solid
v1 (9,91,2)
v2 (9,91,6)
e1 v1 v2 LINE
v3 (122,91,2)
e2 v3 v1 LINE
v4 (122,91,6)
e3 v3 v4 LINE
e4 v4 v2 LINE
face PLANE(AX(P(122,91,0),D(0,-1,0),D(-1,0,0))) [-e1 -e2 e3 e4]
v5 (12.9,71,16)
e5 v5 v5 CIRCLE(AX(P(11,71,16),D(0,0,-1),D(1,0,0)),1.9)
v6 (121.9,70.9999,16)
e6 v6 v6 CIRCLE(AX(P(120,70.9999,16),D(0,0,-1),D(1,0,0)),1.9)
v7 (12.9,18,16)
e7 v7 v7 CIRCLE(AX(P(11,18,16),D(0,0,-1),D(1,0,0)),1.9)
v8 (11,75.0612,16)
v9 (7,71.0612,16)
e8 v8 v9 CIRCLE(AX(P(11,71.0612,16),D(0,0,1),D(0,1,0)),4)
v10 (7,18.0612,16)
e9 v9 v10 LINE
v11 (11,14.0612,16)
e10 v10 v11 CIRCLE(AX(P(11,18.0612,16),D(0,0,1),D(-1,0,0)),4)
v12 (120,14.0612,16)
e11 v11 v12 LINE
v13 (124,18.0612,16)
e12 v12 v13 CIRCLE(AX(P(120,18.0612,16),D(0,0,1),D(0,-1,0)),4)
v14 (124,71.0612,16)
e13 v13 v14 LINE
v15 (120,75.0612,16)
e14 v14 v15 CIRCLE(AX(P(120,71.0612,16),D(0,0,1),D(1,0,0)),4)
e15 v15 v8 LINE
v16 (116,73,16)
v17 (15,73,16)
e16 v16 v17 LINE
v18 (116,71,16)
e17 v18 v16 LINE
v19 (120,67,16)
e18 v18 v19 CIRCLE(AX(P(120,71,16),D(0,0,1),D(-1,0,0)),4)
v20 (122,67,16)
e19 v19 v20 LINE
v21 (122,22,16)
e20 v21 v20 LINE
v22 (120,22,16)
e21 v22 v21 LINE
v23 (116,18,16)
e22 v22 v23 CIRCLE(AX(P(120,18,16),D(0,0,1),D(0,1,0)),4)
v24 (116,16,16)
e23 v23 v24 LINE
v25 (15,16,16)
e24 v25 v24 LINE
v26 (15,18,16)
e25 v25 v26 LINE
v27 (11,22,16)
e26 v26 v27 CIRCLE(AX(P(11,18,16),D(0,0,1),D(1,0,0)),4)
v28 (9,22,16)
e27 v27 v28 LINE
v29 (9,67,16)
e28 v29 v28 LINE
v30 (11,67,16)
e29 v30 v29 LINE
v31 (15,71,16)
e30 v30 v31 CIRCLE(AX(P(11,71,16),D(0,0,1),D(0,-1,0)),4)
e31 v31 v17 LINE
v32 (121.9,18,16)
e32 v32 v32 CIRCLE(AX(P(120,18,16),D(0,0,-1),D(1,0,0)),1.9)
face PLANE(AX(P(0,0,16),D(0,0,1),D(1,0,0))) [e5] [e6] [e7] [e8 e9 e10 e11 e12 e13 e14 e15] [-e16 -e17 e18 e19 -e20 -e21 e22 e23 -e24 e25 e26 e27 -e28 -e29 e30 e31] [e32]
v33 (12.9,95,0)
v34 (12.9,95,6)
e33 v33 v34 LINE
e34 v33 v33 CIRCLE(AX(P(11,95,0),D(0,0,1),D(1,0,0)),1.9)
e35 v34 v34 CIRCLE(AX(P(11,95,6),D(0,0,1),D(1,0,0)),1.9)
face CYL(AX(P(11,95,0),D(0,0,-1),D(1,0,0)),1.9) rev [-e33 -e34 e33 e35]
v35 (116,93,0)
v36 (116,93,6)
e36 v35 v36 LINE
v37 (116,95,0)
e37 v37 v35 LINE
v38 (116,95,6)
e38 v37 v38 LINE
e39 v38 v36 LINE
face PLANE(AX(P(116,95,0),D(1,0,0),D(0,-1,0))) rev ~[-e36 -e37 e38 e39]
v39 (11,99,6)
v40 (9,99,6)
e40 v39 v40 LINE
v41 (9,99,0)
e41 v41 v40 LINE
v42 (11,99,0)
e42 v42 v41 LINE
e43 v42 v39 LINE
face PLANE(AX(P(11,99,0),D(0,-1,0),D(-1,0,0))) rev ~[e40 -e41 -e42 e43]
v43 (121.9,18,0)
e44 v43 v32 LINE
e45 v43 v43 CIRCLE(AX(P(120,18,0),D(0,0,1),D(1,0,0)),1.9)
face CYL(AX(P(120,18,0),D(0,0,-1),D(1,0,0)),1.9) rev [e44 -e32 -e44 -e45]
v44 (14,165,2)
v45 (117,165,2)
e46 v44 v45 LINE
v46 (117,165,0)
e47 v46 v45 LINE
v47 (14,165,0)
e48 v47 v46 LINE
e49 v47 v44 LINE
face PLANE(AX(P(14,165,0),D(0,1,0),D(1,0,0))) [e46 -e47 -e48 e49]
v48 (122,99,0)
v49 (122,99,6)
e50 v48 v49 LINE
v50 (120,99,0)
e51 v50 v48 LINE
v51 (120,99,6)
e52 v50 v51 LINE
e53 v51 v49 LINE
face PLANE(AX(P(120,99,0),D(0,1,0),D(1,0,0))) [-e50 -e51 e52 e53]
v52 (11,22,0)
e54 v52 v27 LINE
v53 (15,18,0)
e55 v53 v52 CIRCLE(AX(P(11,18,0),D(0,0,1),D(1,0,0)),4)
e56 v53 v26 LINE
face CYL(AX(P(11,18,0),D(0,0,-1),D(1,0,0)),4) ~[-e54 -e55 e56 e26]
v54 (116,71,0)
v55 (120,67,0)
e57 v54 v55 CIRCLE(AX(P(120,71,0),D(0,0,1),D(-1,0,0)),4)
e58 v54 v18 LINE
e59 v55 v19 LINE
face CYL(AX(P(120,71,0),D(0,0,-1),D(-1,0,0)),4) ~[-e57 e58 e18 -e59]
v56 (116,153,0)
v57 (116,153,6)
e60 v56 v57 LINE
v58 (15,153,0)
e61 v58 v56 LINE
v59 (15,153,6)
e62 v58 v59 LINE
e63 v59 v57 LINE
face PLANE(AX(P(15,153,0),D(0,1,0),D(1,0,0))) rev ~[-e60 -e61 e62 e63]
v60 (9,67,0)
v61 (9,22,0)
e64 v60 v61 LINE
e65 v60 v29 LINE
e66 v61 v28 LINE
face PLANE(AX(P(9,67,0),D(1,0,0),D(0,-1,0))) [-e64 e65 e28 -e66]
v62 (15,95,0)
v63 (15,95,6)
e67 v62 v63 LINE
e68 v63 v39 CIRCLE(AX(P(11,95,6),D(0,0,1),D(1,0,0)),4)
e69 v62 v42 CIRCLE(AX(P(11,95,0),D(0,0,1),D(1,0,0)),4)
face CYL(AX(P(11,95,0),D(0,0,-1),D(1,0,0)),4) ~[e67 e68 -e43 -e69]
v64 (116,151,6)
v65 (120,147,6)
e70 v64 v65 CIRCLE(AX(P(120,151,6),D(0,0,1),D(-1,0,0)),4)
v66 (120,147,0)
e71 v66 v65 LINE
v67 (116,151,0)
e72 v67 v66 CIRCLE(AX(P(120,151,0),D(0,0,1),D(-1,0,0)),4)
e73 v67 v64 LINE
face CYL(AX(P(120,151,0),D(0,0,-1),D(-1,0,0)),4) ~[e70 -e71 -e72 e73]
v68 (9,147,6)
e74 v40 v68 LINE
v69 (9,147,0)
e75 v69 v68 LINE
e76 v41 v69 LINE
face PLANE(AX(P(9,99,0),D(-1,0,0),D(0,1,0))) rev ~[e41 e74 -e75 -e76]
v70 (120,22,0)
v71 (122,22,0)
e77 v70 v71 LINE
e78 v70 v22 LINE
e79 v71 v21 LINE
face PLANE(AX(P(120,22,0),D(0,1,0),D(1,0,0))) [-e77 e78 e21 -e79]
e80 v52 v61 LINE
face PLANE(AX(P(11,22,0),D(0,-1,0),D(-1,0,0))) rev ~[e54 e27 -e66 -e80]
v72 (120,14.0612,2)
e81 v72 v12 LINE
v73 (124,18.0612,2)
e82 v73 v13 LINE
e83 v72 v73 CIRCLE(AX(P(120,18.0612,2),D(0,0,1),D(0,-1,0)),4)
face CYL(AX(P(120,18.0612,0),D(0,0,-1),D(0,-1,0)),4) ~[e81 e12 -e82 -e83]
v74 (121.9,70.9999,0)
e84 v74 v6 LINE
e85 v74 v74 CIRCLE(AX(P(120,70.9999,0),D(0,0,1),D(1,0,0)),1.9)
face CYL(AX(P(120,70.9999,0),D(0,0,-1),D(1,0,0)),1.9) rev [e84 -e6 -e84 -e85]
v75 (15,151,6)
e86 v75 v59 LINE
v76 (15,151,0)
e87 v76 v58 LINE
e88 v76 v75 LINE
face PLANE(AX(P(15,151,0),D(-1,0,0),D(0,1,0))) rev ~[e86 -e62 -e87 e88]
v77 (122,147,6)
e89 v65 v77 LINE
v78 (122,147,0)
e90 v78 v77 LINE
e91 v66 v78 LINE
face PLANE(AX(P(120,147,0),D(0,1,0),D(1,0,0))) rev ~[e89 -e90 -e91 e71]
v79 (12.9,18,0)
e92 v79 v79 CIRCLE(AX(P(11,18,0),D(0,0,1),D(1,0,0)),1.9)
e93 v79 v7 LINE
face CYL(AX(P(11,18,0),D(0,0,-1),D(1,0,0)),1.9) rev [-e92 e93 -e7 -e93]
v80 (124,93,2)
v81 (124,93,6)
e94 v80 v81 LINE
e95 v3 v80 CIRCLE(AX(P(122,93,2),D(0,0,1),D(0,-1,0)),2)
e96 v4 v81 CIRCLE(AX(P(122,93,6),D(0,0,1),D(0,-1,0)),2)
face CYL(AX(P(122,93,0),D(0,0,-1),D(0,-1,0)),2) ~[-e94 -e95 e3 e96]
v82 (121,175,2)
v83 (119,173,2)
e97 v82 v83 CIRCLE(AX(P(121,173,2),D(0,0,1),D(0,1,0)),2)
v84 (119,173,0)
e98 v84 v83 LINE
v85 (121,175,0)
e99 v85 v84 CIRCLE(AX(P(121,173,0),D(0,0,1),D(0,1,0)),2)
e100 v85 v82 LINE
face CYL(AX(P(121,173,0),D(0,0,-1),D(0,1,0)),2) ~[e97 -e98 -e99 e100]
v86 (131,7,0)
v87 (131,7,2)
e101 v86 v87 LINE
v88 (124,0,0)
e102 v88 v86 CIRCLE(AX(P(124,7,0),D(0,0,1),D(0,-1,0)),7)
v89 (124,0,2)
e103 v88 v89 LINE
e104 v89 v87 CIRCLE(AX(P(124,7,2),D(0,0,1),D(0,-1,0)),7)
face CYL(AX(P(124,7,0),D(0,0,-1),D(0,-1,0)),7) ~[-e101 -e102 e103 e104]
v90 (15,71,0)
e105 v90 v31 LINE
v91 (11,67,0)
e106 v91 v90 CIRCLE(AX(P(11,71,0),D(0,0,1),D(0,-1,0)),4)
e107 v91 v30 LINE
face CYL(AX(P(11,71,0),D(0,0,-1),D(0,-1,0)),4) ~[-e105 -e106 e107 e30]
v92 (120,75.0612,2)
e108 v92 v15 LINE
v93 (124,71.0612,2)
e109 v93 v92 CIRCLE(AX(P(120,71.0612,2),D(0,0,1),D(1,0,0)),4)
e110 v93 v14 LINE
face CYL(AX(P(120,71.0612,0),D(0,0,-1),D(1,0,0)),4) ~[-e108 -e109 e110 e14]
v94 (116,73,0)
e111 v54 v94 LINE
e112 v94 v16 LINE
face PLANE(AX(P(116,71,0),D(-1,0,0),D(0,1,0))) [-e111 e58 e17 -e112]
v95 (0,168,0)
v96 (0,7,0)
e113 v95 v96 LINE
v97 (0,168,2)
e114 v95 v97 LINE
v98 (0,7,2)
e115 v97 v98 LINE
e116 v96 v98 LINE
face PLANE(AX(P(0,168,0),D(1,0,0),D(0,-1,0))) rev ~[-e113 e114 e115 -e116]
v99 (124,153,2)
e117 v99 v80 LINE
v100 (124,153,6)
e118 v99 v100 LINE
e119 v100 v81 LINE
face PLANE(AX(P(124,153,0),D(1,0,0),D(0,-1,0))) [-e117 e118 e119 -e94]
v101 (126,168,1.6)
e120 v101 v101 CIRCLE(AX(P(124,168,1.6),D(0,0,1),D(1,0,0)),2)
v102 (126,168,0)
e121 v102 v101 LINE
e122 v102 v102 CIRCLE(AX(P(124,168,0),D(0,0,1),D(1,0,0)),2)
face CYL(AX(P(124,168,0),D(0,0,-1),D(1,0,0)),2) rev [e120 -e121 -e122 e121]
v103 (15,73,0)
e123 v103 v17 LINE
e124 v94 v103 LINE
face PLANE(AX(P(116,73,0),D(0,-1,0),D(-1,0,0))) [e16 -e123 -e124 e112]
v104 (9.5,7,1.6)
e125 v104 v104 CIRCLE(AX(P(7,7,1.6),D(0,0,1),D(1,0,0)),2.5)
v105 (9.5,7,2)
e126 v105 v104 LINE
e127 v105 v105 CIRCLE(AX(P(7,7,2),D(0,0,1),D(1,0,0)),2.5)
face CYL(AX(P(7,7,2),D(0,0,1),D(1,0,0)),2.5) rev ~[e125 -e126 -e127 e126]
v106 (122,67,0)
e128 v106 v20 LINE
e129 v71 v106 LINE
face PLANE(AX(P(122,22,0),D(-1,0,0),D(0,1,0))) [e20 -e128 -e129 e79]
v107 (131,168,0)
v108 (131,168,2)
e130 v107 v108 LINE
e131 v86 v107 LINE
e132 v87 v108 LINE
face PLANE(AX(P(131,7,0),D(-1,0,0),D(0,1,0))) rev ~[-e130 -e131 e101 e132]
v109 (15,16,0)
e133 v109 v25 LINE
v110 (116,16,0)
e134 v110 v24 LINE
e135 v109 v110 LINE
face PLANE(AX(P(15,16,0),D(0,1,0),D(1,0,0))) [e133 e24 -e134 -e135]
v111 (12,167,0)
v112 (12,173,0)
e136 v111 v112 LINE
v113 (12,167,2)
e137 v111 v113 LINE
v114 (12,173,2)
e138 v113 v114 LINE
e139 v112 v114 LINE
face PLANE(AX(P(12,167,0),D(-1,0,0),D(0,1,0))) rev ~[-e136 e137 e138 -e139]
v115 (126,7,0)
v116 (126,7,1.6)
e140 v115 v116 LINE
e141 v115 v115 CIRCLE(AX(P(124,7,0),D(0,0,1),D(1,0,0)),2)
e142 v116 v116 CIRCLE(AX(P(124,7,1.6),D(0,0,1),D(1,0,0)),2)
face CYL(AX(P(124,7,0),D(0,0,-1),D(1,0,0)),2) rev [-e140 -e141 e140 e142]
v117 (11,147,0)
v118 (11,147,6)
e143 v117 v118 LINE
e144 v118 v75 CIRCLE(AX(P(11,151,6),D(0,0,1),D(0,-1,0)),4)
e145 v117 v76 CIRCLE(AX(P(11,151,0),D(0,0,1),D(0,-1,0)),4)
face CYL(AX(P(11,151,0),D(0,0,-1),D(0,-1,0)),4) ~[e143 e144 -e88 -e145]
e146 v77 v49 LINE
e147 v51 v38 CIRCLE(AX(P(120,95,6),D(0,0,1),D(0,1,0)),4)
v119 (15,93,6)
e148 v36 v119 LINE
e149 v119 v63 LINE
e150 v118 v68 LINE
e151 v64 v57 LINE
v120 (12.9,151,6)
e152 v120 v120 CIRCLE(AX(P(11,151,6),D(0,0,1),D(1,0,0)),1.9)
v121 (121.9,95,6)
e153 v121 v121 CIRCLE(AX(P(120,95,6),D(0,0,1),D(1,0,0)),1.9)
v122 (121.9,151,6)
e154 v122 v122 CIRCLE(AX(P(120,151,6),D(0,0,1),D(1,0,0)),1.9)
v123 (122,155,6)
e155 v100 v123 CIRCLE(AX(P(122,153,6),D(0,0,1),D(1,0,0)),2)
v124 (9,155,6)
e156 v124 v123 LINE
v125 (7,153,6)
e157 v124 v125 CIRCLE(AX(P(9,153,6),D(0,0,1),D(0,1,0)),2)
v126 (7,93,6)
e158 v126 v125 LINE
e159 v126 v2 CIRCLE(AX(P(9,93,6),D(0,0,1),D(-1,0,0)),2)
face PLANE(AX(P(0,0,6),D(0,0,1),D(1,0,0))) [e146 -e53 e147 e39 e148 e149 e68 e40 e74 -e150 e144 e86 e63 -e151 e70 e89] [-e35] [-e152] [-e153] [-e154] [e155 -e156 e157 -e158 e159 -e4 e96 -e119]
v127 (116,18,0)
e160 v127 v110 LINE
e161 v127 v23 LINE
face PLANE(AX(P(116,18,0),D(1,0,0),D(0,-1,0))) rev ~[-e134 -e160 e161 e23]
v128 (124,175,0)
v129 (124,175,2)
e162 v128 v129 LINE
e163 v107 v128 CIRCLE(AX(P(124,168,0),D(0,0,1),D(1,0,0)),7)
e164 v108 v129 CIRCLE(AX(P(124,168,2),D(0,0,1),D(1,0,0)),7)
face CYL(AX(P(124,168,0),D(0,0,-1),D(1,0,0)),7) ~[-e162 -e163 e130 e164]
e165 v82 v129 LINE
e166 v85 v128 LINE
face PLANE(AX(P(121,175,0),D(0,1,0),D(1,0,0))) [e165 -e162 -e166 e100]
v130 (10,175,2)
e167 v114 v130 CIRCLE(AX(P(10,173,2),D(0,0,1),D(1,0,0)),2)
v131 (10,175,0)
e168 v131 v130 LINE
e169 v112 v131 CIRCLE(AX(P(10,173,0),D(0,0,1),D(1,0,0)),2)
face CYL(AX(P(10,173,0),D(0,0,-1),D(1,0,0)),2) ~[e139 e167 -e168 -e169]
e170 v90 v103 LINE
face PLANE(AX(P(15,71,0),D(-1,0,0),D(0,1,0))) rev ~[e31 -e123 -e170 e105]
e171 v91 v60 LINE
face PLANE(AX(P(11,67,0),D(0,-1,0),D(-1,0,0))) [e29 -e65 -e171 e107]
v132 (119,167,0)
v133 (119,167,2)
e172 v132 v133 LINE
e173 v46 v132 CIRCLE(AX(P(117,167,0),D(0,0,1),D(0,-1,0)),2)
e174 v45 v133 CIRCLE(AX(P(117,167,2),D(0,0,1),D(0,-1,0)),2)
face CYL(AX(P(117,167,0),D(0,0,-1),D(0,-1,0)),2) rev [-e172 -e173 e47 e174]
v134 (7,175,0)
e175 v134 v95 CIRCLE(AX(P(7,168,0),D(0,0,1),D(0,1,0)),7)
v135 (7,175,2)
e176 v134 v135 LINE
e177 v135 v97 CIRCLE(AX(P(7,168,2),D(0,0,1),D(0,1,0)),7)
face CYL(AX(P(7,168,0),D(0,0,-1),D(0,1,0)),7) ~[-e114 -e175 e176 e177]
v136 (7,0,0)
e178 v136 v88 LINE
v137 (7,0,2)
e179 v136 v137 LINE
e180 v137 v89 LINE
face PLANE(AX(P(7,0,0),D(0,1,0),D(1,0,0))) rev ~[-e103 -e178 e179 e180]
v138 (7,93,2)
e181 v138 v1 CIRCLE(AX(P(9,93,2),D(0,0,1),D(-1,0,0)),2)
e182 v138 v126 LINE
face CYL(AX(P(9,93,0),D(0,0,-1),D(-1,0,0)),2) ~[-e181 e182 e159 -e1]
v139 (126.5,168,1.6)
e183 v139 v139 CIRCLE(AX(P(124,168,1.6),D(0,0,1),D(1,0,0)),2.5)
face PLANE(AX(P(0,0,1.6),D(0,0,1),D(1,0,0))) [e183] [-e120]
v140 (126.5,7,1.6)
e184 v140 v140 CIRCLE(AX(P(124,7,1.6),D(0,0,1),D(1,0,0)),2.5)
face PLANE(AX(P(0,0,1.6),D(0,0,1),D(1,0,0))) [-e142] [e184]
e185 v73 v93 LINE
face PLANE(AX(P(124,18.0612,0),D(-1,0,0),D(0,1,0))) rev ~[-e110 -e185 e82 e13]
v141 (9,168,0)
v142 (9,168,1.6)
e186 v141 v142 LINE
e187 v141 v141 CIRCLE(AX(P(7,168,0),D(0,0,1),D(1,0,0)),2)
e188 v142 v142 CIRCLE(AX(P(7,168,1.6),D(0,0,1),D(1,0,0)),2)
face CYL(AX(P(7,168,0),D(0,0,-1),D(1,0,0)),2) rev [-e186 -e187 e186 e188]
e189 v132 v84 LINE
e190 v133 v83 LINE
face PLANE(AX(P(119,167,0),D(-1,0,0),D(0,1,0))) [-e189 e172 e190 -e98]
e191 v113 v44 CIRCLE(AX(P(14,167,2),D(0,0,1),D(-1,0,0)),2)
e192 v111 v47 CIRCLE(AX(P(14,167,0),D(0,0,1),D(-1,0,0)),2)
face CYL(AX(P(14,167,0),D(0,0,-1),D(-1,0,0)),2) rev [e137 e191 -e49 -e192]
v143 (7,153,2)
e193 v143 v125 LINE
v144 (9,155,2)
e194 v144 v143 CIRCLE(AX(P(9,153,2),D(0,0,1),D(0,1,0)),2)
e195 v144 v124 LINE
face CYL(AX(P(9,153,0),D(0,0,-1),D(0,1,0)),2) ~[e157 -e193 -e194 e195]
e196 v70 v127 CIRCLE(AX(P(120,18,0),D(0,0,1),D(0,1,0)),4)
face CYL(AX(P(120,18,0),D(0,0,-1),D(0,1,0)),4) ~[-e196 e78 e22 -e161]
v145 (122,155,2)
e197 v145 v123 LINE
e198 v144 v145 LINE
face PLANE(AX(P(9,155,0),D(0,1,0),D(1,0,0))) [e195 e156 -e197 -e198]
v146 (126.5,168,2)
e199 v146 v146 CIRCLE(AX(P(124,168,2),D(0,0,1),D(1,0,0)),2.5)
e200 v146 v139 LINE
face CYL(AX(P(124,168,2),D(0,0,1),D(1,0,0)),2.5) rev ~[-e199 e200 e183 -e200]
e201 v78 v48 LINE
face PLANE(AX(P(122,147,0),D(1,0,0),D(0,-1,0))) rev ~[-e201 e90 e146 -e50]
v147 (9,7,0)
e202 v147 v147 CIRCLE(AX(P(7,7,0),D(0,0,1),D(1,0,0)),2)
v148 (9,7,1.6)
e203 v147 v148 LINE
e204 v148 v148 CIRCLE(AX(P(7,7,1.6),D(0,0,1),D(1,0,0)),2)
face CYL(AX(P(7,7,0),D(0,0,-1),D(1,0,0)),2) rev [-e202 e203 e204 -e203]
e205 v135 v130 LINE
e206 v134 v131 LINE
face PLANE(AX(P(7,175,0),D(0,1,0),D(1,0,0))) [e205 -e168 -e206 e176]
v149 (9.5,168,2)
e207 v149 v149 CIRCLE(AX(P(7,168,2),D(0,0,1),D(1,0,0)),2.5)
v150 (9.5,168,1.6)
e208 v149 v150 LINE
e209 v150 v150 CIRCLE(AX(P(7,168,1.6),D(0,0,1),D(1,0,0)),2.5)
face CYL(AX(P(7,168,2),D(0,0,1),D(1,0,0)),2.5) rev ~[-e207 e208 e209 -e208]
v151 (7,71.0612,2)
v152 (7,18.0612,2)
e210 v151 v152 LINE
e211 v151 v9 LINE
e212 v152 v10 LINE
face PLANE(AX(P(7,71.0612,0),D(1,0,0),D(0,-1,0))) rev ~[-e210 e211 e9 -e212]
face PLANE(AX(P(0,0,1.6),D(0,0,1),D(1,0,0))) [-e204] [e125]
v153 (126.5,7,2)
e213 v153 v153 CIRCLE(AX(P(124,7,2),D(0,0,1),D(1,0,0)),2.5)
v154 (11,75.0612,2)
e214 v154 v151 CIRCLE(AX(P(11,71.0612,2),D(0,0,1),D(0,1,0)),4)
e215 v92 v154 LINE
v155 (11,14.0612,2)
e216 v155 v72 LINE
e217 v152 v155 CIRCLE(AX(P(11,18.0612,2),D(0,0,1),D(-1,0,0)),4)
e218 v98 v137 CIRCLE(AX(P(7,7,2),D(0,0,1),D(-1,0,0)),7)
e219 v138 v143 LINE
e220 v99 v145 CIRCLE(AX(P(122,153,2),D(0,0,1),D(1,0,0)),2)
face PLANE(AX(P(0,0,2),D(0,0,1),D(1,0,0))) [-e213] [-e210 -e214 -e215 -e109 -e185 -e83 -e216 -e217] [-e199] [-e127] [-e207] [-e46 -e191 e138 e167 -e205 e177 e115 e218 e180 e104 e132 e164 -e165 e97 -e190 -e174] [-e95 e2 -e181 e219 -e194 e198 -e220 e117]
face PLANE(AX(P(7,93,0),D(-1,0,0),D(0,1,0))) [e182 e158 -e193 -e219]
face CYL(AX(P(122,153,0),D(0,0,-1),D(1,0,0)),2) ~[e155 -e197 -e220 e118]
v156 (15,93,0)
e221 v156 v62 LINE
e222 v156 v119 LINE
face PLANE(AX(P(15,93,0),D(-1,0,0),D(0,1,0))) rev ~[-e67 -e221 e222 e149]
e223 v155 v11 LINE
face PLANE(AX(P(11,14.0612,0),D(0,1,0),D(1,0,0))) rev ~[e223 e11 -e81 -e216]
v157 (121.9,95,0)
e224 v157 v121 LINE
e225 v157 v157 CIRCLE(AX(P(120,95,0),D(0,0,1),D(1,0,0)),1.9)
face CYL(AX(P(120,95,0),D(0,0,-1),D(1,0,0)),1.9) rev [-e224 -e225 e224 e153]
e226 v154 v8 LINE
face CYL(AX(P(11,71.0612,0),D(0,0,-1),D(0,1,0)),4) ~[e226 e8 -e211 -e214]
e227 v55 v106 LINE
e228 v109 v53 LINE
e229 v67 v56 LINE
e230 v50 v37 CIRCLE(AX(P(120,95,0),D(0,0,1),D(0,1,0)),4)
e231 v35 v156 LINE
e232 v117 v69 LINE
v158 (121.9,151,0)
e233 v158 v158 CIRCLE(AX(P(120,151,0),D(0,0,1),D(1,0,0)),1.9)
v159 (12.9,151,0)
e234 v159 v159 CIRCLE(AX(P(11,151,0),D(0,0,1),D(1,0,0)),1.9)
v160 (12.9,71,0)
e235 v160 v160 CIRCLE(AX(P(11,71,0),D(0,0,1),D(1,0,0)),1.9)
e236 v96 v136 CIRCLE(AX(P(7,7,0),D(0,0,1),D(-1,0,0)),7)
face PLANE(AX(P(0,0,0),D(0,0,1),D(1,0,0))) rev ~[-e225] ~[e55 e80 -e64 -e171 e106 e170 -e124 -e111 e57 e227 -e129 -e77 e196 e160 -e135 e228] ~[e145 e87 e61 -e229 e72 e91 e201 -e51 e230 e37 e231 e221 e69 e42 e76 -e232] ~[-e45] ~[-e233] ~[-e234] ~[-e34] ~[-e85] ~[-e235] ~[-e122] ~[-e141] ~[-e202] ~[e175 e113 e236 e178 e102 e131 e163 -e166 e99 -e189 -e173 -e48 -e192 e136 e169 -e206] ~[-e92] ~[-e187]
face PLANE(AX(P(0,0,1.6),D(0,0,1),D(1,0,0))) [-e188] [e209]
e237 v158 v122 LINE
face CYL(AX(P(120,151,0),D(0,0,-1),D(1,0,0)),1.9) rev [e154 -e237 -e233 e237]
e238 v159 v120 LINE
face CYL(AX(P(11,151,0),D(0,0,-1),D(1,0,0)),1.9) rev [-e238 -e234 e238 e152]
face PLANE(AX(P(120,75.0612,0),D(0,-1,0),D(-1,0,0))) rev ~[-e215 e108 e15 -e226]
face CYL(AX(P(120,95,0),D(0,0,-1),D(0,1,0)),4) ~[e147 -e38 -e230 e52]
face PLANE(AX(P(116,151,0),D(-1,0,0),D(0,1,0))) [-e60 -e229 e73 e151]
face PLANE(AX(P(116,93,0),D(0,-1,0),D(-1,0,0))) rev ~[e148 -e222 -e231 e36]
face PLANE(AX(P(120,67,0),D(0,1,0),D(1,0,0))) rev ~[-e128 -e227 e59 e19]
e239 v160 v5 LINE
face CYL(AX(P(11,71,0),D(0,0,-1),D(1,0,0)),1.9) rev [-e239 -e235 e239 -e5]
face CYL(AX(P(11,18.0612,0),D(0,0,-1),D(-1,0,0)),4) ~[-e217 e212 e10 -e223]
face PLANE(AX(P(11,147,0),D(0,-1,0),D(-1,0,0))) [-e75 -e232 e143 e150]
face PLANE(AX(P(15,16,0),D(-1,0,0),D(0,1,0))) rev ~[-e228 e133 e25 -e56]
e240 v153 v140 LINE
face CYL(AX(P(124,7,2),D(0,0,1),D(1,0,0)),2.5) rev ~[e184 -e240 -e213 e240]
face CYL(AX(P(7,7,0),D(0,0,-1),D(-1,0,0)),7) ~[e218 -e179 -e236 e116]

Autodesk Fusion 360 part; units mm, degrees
sketch "草图1" plane through (0, 0, 0) normal (0, 0, 1) x (1, 0, 0)
  line L0 (7, 0) -> (124, 0)
  line L1 (131, 7) -> (131, 168)
  line L2 (0, 168) -> (0, 7)
  line L3 (14, 165) -> (117, 165)
  line L4 (12, 167) -> (12, 173)
  line L5 (119, 167) -> (119, 173)
  arc A0 (7, 175) -> (0, 168) centre (7, 168) ccw
  arc A1 (131, 168) -> (124, 175) centre (124, 168) ccw
  circle A2 centre (7, 168) radius 2
  circle A3 centre (7, 168) radius 2.5
  circle A4 centre (7, 168) radius 3.7
  circle A5 centre (124, 168) radius 2
  circle A6 centre (124, 168) radius 2.5
  circle A7 centre (124, 168) radius 3.7
  line L6 (7, 175) -> (10, 175)
  line L7 (121, 175) -> (124, 175)
  arc A8 (121, 175) -> (119, 173) centre (121, 173) ccw
  arc A9 (117, 165) -> (119, 167) centre (117, 167) ccw
  arc A10 (12, 173) -> (10, 175) centre (10, 173) ccw
  arc A11 (12, 167) -> (14, 165) centre (14, 167) ccw
  arc A12 (0, 7) -> (7, 0) centre (7, 7) ccw
  arc A13 (124, 0) -> (131, 7) centre (124, 7) ccw
  circle A14 centre (7, 7) radius 2
  circle A15 centre (7, 7) radius 2.5
  circle A16 centre (7, 7) radius 3.7
  circle A17 centre (124, 7) radius 2
  circle A18 centre (124, 7) radius 2.5
  circle A19 centre (124, 7) radius 3.7
  line L8 (11, 14.0612) -> (120, 14.0612)
  line L9 (124, 18.0612) -> (124, 71.0612)
  line L10 (120, 75.0612) -> (11, 75.0612)
  line L11 (7, 71.0612) -> (7, 18.0612)
  line L12 (12, 16) -> (119, 16)
  line L13 (122, 19) -> (122, 70)
  line L14 (119, 73) -> (12, 73)
  line L15 (9, 70) -> (9, 19)
  arc A20 (11, 75.0612) -> (7, 71.0612) centre (11, 71.0612) ccw
  arc A21 (12, 73) -> (9, 70) centre (12, 70) ccw
  arc A22 (124, 71.0612) -> (120, 75.0612) centre (120, 71.0612) ccw
  arc A23 (122, 70) -> (119, 73) centre (119, 70) ccw
  arc A24 (7, 18.0612) -> (11, 14.0612) centre (11, 18.0612) ccw
  arc A25 (9, 19) -> (12, 16) centre (12, 19) ccw
  arc A26 (120, 14.0612) -> (124, 18.0612) centre (120, 18.0612) ccw
  arc A27 (119, 16) -> (122, 19) centre (119, 19) ccw
  line L16 (9, 155) -> (122, 155)
  line L17 (124, 153) -> (124, 93)
  line L18 (122, 91) -> (9, 91)
  line L19 (7, 93) -> (7, 153)
  line L20 (10, 153) -> (121, 153)
  line L21 (122, 152) -> (122, 94)
  line L22 (121, 93) -> (10, 93)
  line L23 (9, 94) -> (9, 152)
  arc A28 (9, 155) -> (7, 153) centre (9, 153) ccw
  arc A29 (124, 153) -> (122, 155) centre (122, 153) ccw
  arc A30 (7, 93) -> (9, 91) centre (9, 93) ccw
  arc A31 (122, 91) -> (124, 93) centre (122, 93) ccw
  arc A32 (10, 153) -> (9, 152) centre (10, 152) ccw
  arc A33 (9, 94) -> (10, 93) centre (10, 94) ccw
  arc A34 (122, 152) -> (121, 153) centre (121, 152) ccw
  arc A35 (121, 93) -> (122, 94) centre (121, 94) ccw
  circle A36 centre (11, 151) radius 1.9
  line L24 (15, 151) -> (15, 153)
  line L25 (11, 147) -> (9, 147)
  circle A37 centre (11, 95) radius 1.9
  line L26 (11, 99) -> (9, 99)
  line L27 (15, 93) -> (15, 95)
  circle A38 centre (120, 95) radius 1.9
  line L28 (116, 95) -> (116, 93)
  line L29 (120, 99) -> (122, 99)
  circle A39 centre (120, 151) radius 1.9
  line L30 (116, 151) -> (116, 153)
  line L31 (120, 147) -> (122, 147)
  circle A40 centre (11, 71) radius 1.9
  line L32 (15, 71) -> (15, 73)
  line L33 (11, 67) -> (9, 67)
  arc A41 (11, 67) -> (15, 71) centre (11, 71) ccw
  circle A42 centre (11, 18) radius 1.9
  line L34 (11, 22) -> (9, 22)
  line L35 (15, 16) -> (15, 18)
  arc A43 (15, 18) -> (11, 22) centre (11, 18) ccw
  arc A44 (15, 95) -> (11, 99) centre (11, 95) ccw
  arc A45 (11, 147) -> (15, 151) centre (11, 151) ccw
  arc A46 (116, 151) -> (120, 147) centre (120, 151) ccw
  arc A47 (120, 99) -> (116, 95) centre (120, 95) ccw
  circle A48 centre (120, 18) radius 1.9
  line L36 (116, 18) -> (116, 16)
  line L37 (120, 22) -> (122, 22)
  arc A49 (120, 22) -> (116, 18) centre (120, 18) ccw
  circle A50 centre (120, 70.9999) radius 1.9
  line L38 (116, 71) -> (116, 73)
  line L39 (120, 67) -> (122, 67)
  arc A51 (116, 71) -> (120, 67) centre (120, 71) ccw
  point P0 (131, 0)
  point P1 (0, 175)
  point P2 (12, 165)
  point P3 (119, 165)
  point P4 (7, 14.0612)
  point P5 (124, 14.0612)
  point P6 (7, 75.0612)
  point P7 (9, 16)
  point P8 (122, 16)
  point P9 (9, 73)
  point P10 (7, 155)
  point P11 (124, 155)
  point P12 (7, 91)
  point P13 (9, 153)
  point P14 (122, 153)
  point P15 (9, 93)
  dimension "d1" = 131
  dimension "d2" = 175
  dimension "d3" = 107
  dimension "d4" = 7
  dimension "d5" = 7
  dimension "d6" = 4
  dimension "d7" = 5
  dimension "d8" = 7.4
  dimension "d9" = 4
  dimension "d10" = 5
  dimension "d11" = 7.4
  dimension "d12" = 2
  dimension "d13" = 2
  dimension "d14" = 2
  dimension "d15" = 2
  dimension "d16" = 7
  dimension "d17" = 7
  dimension "d18" = 4
  dimension "d19" = 5
  dimension "d20" = 7.4
  dimension "d21" = 4
  dimension "d22" = 5
  dimension "d23" = 7.4
  dimension "d24" = 117
  dimension "d25" = 61
  dimension "d26" = 113
  dimension "d27" = 57
  dimension "d28" = 4
  dimension "d29" = 3
  dimension "d30" = 4
  dimension "d31" = 3
  dimension "d32" = 4
  dimension "d33" = 3
  dimension "d34" = 4
  dimension "d35" = 3
  dimension "d36" = 117
  dimension "d37" = 64
  dimension "d38" = 113
  dimension "d39" = 60
  dimension "d40" = 2
  dimension "d41" = 2
  dimension "d42" = 2
  dimension "d43" = 2
  dimension "d44" = 1
  dimension "d45" = 1
  dimension "d46" = 1
  dimension "d47" = 1
  dimension "d57" = 3.8
  dimension "d58" = 3.8
  dimension "d59" = 3.8
  dimension "d60" = 3.8
  dimension "d62" = 3.8
  dimension "d63" = 4
  dimension "d64" = 3.8
  dimension "d65" = 4
  dimension "d66" = 4
  dimension "d68" = 4
  dimension "d69" = 4
  dimension "d70" = 3.8
  dimension "d71" = 4
  dimension "d72" = 3.8
  dimension "d73" = 4
extrude "拉伸13" cut sketch "草图1" along normal blind 16 contours A25 A42 picked at (9.8084, 16.8084)
extrude "拉伸14" cut sketch "草图1" along normal blind 16 contours A21 A40 picked at (10.7309, 71.3245)
extrude "拉伸15" cut sketch "草图1" along normal blind 16 contours A23 A50 picked at (121.1681, 72.2139)
extrude "拉伸16" cut sketch "草图1" along normal blind 16 contours A27 A48 picked at (120.3296, 17.7354)
extrude "拉伸17" add sketch "草图1" along normal blind 2 separate body contours L0 L1 L2 L3 L4 L5 A0 A1 L6 L7 A8 A9 A10 A11 A12 A13 | A3 | A4 | A6 | A7 | A15 | A16 | A18 | A19
extrude "拉伸18" add sketch "草图1" along normal blind 6 contours L16 L17 L18 L19 A28 A29 A30 A31 | L20 L23 A32 L24 L25 A45 | L20 L21 A34 L30 L31 A46 | L22 L23 A33 L26 L27 A44 | L21 L22 A35 L28 L29 A47
extrude "拉伸19" add sketch "草图1" along normal blind 16 contours L8 L9 L10 L11 A20 A22 A24 A26 | L12 L15 A25 A42 L34 L35 A43 | L12 L13 A27 A48 L36 L37 A49 | L14 L15 A21 A40 L32 L33 A41 | L13 L14 A23 A50 L38 L39 A51
extrude "拉伸20" cut sketch "草图1" against normal blind 0.4 from surface at 2 contours A3
extrude "拉伸21" cut sketch "草图1" against normal blind 0.4 from surface at 2 contours A6
extrude "拉伸22" cut sketch "草图1" against normal blind 0.4 from surface at 2 contours A18
extrude "拉伸23" cut sketch "草图1" against normal blind 0.4 from surface at 2 contours A15
